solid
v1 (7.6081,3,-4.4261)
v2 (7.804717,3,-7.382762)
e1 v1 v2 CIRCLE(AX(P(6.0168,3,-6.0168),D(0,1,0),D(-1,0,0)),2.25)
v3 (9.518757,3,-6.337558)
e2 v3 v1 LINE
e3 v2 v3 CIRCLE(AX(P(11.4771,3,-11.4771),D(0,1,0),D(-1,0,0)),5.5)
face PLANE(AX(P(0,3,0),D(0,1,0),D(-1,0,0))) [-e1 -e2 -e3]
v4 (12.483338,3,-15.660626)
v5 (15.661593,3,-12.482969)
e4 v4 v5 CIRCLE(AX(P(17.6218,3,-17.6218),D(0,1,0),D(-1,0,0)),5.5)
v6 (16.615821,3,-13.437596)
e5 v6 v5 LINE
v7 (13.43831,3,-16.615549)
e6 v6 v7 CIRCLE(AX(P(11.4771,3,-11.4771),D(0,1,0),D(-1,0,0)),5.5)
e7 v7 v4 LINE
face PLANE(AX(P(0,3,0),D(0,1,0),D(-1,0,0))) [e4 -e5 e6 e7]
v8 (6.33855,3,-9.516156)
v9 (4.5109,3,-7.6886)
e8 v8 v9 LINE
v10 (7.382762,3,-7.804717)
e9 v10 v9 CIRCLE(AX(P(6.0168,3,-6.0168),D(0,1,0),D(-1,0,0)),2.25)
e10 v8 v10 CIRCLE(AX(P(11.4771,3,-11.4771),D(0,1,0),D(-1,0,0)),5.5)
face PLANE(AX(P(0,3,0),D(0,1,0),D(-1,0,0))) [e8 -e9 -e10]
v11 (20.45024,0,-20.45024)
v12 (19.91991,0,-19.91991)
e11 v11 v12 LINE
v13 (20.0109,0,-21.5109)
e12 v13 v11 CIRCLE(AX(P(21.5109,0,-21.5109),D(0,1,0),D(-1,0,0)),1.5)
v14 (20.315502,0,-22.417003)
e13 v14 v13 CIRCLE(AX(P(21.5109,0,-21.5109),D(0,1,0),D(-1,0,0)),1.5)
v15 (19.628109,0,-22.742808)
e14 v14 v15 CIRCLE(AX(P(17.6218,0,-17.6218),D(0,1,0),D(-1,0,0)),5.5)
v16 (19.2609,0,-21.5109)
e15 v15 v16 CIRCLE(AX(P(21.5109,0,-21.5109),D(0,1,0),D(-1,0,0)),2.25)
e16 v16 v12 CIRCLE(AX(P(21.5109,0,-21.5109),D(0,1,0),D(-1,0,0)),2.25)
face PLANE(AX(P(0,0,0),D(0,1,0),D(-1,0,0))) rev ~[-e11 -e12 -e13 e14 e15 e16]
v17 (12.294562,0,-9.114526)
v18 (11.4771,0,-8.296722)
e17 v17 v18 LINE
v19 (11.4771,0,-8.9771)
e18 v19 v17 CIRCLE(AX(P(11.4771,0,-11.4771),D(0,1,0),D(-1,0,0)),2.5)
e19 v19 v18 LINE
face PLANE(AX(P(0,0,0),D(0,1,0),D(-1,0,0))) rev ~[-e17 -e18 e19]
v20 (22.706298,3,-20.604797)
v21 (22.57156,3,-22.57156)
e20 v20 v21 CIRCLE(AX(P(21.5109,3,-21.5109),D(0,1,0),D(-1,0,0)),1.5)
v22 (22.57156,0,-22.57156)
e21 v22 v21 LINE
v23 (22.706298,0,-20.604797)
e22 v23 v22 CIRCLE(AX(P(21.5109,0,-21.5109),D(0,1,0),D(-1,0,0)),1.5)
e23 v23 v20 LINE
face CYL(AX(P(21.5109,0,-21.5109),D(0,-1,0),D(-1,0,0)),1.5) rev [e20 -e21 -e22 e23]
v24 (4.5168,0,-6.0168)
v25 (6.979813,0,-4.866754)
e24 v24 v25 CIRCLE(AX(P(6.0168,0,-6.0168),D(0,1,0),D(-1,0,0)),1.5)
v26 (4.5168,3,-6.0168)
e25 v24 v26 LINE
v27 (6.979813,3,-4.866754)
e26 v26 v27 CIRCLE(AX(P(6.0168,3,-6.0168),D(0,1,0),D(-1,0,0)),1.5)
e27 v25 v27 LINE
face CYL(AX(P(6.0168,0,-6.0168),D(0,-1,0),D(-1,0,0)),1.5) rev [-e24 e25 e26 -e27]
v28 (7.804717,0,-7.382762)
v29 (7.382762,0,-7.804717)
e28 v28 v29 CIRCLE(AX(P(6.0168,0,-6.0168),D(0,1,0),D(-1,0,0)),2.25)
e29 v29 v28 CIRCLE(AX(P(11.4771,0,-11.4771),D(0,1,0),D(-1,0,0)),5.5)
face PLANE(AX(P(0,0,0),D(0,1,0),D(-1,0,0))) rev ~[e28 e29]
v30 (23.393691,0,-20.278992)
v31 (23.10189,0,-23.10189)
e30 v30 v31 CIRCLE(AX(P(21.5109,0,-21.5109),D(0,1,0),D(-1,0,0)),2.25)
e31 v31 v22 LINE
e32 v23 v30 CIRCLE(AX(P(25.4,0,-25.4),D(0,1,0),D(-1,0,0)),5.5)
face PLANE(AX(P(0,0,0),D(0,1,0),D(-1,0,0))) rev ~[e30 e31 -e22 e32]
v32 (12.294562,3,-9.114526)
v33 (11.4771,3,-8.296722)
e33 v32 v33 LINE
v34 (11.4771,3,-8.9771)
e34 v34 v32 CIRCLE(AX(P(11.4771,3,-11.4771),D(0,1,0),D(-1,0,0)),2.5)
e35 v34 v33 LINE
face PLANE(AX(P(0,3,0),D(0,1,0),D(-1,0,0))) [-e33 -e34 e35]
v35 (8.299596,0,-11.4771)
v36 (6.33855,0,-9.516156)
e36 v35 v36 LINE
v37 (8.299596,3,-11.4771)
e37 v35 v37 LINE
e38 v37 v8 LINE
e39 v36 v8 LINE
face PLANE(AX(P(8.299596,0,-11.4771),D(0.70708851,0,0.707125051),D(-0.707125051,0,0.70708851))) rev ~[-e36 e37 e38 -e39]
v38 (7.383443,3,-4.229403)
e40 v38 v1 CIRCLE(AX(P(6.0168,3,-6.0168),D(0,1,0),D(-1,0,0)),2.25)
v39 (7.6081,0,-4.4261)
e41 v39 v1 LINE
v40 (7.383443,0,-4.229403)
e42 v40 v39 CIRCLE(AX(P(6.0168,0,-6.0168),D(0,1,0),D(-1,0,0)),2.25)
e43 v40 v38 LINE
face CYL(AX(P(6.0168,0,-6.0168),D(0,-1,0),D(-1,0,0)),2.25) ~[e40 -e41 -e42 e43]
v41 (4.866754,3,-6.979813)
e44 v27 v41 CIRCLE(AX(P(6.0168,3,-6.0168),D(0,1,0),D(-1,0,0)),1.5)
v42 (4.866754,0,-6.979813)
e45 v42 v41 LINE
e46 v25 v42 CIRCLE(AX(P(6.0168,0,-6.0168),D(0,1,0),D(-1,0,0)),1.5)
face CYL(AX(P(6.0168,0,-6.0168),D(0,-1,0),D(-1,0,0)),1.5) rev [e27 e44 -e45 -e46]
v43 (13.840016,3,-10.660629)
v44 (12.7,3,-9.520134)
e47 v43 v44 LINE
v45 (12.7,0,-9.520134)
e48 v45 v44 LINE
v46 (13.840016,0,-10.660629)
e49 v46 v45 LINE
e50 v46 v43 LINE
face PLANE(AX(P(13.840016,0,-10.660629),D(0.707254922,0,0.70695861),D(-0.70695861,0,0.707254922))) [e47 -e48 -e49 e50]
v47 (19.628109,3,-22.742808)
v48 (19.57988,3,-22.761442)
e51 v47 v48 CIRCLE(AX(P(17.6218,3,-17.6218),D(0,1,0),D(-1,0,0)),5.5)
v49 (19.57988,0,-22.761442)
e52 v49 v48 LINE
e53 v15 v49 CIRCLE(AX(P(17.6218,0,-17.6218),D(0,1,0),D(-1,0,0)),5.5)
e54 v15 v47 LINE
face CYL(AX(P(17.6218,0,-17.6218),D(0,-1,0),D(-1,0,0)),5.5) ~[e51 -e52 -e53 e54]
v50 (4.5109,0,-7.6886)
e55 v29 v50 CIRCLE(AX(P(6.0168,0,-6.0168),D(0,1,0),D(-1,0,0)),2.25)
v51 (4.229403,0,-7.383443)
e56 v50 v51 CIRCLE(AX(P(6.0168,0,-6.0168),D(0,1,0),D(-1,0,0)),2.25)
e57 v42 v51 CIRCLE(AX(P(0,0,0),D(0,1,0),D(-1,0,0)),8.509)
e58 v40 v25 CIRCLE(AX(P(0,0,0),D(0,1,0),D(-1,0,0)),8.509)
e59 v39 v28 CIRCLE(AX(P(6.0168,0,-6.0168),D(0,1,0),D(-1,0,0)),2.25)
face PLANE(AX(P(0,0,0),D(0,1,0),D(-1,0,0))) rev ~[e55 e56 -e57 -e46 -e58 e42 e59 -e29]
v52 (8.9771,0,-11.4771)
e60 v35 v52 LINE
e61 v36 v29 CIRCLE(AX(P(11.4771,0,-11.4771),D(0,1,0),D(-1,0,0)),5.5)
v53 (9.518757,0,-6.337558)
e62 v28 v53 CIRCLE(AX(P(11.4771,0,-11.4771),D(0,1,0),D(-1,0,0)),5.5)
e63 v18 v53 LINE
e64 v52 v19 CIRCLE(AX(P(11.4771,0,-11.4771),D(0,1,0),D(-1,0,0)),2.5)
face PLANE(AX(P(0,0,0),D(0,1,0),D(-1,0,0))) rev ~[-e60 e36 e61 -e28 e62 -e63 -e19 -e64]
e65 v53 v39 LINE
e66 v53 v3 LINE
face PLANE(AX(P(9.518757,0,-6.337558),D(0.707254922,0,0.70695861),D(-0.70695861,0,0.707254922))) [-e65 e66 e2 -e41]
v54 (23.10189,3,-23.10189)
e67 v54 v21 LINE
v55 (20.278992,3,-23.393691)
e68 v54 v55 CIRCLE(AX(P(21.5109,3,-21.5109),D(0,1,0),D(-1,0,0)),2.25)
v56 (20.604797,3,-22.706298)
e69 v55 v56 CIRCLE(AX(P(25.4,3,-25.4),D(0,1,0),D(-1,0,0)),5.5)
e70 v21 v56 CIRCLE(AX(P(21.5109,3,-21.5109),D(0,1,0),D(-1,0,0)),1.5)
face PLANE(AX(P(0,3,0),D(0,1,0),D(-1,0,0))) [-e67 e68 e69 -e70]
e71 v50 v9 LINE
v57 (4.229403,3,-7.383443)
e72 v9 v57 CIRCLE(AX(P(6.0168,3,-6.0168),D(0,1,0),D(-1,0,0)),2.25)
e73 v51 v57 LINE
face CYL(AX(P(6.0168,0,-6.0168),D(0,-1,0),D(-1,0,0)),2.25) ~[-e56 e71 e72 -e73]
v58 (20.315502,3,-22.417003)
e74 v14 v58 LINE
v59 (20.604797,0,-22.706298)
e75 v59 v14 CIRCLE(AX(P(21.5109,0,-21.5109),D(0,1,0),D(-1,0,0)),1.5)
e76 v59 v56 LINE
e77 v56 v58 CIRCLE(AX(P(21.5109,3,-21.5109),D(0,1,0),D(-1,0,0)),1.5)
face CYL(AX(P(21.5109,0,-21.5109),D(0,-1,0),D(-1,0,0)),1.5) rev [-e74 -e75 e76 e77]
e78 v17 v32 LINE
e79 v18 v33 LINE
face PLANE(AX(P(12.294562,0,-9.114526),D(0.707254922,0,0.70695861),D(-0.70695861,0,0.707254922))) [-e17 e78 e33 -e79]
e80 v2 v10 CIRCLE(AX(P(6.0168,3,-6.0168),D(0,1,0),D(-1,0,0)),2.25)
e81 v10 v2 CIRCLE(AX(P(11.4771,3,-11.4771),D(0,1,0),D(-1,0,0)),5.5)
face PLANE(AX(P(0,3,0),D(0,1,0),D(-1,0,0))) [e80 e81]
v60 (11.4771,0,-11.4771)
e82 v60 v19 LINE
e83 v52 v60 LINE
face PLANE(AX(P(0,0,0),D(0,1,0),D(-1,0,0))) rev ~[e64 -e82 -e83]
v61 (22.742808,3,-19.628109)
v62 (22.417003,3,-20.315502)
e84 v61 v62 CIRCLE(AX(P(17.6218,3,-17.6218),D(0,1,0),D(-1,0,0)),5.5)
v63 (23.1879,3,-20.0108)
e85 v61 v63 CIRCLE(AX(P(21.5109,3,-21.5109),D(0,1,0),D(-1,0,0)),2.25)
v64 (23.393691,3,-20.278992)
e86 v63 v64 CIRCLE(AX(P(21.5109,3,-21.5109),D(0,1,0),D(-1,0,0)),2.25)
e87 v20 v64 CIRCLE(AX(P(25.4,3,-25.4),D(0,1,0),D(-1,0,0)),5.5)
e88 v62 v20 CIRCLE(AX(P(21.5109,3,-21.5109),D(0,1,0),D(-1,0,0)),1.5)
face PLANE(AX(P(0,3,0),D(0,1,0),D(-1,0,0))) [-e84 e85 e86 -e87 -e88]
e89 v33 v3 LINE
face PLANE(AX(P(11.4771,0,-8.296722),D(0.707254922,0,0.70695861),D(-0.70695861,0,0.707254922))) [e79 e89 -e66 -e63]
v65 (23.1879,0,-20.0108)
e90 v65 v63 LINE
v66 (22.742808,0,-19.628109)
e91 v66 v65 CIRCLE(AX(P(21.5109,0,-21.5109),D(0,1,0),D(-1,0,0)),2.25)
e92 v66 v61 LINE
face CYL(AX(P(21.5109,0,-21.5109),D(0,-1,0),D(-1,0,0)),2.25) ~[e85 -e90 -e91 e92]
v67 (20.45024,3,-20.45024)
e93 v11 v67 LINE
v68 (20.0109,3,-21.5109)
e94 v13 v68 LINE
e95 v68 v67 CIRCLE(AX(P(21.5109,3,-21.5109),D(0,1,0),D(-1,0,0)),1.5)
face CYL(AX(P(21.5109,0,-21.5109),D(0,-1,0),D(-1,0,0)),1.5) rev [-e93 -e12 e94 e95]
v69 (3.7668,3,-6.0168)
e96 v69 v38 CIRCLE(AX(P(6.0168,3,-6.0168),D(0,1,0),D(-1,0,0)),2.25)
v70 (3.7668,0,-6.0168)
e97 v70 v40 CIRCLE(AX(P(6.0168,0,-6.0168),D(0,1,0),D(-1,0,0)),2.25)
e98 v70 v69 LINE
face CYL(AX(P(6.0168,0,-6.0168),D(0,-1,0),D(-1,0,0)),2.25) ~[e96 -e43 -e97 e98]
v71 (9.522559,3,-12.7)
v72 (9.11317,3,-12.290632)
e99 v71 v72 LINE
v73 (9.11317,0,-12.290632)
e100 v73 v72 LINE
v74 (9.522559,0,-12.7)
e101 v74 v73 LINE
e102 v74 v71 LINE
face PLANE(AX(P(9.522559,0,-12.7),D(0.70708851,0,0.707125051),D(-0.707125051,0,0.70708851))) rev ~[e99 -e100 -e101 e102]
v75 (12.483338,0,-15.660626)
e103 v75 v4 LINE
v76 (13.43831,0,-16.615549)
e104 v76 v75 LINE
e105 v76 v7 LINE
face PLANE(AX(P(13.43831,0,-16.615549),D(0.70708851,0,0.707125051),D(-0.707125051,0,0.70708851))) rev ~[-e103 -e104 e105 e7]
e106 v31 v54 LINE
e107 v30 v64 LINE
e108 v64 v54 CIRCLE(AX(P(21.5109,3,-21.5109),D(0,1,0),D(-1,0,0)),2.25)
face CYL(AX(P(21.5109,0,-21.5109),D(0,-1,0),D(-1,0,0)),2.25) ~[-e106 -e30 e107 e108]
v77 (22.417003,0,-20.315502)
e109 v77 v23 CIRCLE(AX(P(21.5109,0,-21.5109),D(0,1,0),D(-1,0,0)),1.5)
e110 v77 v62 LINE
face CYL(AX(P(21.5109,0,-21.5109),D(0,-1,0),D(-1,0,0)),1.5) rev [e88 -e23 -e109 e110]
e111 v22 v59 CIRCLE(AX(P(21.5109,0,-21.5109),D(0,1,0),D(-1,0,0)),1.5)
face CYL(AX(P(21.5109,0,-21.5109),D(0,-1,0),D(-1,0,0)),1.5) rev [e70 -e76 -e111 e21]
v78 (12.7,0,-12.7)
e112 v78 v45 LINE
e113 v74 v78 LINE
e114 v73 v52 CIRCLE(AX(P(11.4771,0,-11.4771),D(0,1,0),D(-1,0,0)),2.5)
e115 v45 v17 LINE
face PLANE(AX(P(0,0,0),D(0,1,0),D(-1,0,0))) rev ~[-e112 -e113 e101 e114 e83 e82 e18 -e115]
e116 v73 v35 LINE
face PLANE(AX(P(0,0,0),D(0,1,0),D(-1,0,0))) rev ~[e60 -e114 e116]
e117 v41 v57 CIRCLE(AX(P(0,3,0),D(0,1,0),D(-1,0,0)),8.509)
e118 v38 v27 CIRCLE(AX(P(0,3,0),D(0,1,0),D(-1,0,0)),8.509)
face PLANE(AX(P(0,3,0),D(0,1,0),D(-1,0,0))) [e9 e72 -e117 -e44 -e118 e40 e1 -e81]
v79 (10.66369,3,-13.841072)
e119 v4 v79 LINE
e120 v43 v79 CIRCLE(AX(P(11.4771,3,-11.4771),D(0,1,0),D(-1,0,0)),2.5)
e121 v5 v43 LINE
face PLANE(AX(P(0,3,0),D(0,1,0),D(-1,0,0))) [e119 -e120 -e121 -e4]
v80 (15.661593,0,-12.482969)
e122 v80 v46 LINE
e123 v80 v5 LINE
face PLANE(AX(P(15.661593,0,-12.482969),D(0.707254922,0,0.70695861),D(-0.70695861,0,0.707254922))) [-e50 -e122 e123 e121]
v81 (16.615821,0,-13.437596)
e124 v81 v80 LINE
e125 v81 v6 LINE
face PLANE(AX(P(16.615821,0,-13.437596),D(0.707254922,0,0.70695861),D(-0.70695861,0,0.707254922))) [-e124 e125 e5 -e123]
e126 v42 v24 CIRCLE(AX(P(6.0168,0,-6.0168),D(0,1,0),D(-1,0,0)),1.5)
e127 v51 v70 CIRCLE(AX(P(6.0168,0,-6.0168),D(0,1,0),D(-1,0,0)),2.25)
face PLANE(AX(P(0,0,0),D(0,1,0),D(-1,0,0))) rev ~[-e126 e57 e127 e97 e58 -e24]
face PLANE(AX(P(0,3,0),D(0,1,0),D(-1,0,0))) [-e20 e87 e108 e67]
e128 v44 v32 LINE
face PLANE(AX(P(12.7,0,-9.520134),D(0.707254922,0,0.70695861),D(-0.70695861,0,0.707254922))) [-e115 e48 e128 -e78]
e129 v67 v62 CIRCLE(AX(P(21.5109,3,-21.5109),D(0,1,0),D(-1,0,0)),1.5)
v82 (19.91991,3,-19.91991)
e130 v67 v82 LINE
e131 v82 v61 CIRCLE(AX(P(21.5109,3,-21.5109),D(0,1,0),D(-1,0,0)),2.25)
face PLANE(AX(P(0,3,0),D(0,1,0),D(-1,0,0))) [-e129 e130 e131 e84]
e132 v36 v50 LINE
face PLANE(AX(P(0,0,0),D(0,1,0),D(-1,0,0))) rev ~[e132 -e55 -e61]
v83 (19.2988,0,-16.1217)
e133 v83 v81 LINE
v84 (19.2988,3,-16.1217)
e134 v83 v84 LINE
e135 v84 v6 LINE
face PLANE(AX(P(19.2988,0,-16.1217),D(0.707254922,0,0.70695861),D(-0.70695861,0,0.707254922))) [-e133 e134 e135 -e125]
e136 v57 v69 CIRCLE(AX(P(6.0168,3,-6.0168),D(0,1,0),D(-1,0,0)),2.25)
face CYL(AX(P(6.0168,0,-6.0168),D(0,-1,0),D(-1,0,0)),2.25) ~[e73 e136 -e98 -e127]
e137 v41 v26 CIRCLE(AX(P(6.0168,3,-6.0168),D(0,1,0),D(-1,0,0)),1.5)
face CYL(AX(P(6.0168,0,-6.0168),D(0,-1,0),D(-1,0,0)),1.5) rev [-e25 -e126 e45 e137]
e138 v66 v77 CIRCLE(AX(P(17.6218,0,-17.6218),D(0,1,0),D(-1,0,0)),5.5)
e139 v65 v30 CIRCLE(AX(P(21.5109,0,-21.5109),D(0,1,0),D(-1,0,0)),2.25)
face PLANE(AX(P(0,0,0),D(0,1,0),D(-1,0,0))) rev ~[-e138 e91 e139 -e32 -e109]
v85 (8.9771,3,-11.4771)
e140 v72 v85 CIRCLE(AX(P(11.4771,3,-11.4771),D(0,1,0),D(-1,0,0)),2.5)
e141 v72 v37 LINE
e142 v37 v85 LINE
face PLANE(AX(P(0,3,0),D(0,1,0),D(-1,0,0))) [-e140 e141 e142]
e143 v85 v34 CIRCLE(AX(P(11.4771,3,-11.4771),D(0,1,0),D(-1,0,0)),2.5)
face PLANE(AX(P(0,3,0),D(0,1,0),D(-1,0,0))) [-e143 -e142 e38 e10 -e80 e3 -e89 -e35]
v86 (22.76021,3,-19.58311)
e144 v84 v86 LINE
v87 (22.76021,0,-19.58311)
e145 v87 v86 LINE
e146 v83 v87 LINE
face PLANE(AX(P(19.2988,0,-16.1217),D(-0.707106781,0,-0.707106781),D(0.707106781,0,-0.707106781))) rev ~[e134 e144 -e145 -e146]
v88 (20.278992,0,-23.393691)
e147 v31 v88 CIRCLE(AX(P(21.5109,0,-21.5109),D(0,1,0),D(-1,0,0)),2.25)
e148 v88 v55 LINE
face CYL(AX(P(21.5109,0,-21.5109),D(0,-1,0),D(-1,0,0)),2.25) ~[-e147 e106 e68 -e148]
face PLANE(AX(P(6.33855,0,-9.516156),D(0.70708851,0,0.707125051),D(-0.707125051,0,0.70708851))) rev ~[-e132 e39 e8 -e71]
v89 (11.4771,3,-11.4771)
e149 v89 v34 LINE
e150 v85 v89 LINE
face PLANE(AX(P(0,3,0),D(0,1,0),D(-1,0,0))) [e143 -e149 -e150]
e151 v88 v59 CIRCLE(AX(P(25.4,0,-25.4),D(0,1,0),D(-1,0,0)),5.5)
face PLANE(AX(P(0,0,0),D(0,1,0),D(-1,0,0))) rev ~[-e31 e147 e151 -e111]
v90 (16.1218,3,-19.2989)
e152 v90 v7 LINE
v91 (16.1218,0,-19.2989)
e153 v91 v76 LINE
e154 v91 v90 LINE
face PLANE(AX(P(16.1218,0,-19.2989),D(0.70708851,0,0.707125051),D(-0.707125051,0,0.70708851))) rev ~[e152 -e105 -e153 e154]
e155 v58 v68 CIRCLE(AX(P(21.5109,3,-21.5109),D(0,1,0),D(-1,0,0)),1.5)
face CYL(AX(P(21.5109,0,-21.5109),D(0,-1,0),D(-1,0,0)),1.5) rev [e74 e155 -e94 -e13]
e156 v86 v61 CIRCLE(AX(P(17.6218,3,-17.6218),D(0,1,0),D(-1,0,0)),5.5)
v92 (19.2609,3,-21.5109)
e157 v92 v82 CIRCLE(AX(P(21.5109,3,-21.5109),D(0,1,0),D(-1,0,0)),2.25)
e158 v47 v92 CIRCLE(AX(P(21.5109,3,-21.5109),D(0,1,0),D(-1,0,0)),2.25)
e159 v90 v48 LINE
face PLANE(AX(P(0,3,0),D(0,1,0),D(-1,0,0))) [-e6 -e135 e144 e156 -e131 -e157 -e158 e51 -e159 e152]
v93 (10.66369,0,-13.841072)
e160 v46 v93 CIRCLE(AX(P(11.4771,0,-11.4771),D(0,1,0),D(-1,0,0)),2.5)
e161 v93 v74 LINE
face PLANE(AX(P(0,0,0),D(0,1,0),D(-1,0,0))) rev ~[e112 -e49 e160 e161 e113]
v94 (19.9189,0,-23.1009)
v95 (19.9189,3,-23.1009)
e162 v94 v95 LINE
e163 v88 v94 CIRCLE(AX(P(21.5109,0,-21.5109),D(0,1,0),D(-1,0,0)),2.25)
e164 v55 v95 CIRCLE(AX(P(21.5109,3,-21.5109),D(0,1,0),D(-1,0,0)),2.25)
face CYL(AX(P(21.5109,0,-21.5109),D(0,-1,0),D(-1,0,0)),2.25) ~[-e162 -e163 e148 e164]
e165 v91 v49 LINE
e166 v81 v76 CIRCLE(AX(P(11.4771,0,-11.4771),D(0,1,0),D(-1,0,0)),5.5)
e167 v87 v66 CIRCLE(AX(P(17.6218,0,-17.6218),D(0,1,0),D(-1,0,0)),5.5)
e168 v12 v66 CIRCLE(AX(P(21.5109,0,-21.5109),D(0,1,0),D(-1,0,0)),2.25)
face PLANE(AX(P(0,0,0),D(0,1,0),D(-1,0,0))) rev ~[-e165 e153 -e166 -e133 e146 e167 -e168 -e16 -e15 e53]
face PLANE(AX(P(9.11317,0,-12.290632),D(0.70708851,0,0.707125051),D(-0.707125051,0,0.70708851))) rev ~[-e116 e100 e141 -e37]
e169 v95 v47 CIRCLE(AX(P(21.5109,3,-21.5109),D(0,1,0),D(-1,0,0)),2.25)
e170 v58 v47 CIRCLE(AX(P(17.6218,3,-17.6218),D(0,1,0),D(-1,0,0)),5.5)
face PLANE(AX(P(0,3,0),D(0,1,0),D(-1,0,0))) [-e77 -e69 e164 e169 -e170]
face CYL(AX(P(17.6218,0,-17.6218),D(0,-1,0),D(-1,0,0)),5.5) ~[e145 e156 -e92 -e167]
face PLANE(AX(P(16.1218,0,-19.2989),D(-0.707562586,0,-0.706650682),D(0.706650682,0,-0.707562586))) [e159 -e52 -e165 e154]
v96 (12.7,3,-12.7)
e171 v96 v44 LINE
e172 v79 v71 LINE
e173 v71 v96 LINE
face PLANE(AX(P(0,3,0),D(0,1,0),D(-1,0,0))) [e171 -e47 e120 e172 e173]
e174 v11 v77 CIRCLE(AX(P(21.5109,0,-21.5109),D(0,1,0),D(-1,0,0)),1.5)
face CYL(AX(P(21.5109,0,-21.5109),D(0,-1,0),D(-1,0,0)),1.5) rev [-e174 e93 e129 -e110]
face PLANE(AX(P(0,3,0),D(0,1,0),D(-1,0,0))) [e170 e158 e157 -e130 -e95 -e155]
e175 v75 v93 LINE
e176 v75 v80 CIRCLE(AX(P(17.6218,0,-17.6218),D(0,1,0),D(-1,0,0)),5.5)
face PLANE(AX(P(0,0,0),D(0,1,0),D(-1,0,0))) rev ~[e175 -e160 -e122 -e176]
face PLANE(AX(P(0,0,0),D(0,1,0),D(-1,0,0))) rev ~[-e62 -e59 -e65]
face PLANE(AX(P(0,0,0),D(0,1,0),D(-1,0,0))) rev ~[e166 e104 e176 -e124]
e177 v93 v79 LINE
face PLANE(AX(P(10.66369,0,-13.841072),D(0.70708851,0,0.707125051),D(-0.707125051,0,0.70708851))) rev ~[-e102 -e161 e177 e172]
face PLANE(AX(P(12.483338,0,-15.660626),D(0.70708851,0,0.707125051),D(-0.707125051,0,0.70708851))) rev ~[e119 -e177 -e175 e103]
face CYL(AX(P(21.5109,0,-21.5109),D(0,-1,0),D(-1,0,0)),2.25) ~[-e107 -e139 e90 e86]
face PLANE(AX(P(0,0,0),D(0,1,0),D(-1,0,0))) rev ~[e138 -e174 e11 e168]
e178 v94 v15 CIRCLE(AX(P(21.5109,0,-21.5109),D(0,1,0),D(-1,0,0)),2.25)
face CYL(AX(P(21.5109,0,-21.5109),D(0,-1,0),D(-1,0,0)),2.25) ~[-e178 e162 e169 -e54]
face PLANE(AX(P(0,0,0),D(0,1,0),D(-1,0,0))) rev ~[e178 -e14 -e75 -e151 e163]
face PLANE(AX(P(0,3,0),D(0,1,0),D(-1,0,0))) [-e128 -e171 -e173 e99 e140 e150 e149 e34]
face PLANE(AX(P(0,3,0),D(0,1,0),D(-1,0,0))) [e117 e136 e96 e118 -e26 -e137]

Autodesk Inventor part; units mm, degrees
ref_plane "YZ Plane" through (0, 0, 0) normal (1, 0, 0) x (0, 1, 0)
ref_plane "XZ Plane" through (0, 0, 0) normal (0, 1, 0) x (-1, 0, 0)
ref_plane "XY Plane" through (0, 0, 0) normal (0, 0, 1) x (1, 0, 0)
sketch "Sketch1" plane through (0, 0, 0) normal (0, 1, 0) x (-1, 0, 0)
  circle A0 centre (-0.0319, -8.4999) radius 1.5
  circle A1 centre (8.4996, 0.0794) radius 1.5
  circle A2 centre (-8.4996, 0.0788) radius 1.5
  circle A3 centre (-0.0313, 8.4999) radius 1.5
  line L0 (-12.7, 12.7) -> (12.7, 12.7)
  line L1 (12.7, 12.7) -> (12.7, -12.7)
  line L2 (12.7, -12.7) -> (-12.7, -12.7)
  line L3 (-12.7, -12.7) -> (-12.7, 12.7)
  line L4 (-12.7, 12.7) -> (12.7, -12.7) construction
  line L5 (12.7, 12.7) -> (-12.7, -12.7) construction
  line L6 (-11.4771, 11.4771) -> (11.4771, 11.4771)
  line L7 (11.4771, 11.4771) -> (11.4771, -11.4771)
  line L8 (11.4771, -11.4771) -> (-11.4771, -11.4771)
  line L9 (-11.4771, -11.4771) -> (-11.4771, 11.4771)
  line L10 (-11.4771, 11.4771) -> (11.4771, -11.4771) construction
  line L11 (11.4771, 11.4771) -> (-11.4771, -11.4771) construction
  line L12 (-25.4, -25.4) -> (25.4, -25.4)
  line L13 (25.4, -25.4) -> (25.4, 25.4)
  line L14 (25.4, 25.4) -> (-25.4, 25.4)
  line L15 (-25.4, 25.4) -> (-25.4, -25.4)
  line L16 (-25.4, -25.4) -> (25.4, 25.4) construction
  line L17 (25.4, -25.4) -> (-25.4, 25.4) construction
  circle A4 centre (0, 0) radius 5.5
  circle A5 centre (11.4771, 11.4771) radius 5.5
  circle A6 centre (11.4771, -11.4771) radius 5.5
  circle A7 centre (-11.4771, 11.4771) radius 5.5
  circle A8 centre (-11.4771, -11.4771) radius 5.5
  circle A9 centre (-25.4, 25.4) radius 5.5
  circle A10 centre (25.4, 25.4) radius 5.5
  circle A11 centre (25.4, -25.4) radius 5.5
  circle A12 centre (-25.4, -25.4) radius 5.5
  line L18 (7.588, 15.3662) -> (21.5109, 29.2891)
  line L19 (29.2891, 21.5109) -> (15.3662, 7.588)
  line L20 (15.3662, -7.588) -> (29.2891, -21.5109)
  line L21 (-7.588, -15.3662) -> (-21.5109, -29.2891)
  line L22 (-29.2891, 21.5109) -> (-15.3662, 7.588)
  line L23 (7.588, -15.3662) -> (21.5109, -29.2891)
  line L24 (-15.3365, -7.5586) -> (-29.2595, -21.4815)
  line L25 (-7.6475, 15.4248) -> (-21.5108, 29.289)
  line L26 (-35, -35) -> (35, -35)
  line L27 (35, -35) -> (35, 35)
  line L28 (35, 35) -> (-35, 35)
  line L29 (-35, 35) -> (-35, -35)
  line L30 (-35, -35) -> (35, 35) construction
  line L31 (35, -35) -> (-35, 35) construction
  circle A13 centre (11.4771, 11.4771) radius 2.5
  circle A14 centre (25.4, 25.4) radius 2.5
  line L32 (27.1678, 23.6322) -> (13.2448, 9.7093)
  line L33 (23.6682, 27.203) -> (9.7093, 13.2449)
  line L34 (0, 0) -> (0, 35)
  line L35 (35, 0) -> (0, 0)
  line L36 (-27.1678, 23.6322) -> (-13.2448, 9.7093)
  circle A15 centre (-25.4, 25.4) radius 2.5
  line L37 (-23.6682, 27.203) -> (-9.7093, 13.2449)
  circle A16 centre (-11.4771, 11.4771) radius 2.5
  circle A17 centre (25.4, -25.4) radius 2.5
  line L38 (23.6682, -27.203) -> (9.7093, -13.2449)
  line L39 (27.1678, -23.6322) -> (13.2448, -9.7093)
  circle A18 centre (11.4771, -11.4771) radius 2.5
  circle A19 centre (-11.4771, -11.4771) radius 2.5
  line L40 (-23.6682, -27.203) -> (-9.7093, -13.2449)
  line L41 (-27.1678, -23.6322) -> (-13.2448, -9.7093)
  line L42 (25.4, 25.4) -> (-25.4, -25.4) construction
  circle A20 centre (-25.4, -25.4) radius 2.5
  circle A21 centre (0, 0) radius 8.509
  circle A22 centre (-6.0168, -6.0168) radius 1.5
  line L43 (-25.4, -25.4) -> (-17.6218, -17.6218)
  circle A23 centre (-17.6218, -17.6218) radius 5.5
  circle A24 centre (-6.0168, -6.0168) radius 2.25
  line L44 (-16.1218, -19.2989) -> (-4.5109, -7.6886)
  line L45 (-19.2988, -16.1217) -> (-7.6081, -4.4261)
  circle A25 centre (-21.5109, -21.5109) radius 1.5
  circle A26 centre (-21.5109, -21.5109) radius 2.25
  line L46 (-19.2988, -16.1217) -> (-23.1879, -20.0108)
  line L47 (-16.1218, -19.2989) -> (-19.9189, -23.1009)
  point P0 (-22.7602, -19.5832)
  point P1 (-22.7428, -19.6281)
  point P2 (-23.011, -19.8339)
  point P3 (-19.6281, -22.7428)
  point P4 (-19.5799, -22.7615)
  dimension "d24" = 17.018
  dimension "d0" = 8.5
  dimension "d1" = 8.5
  dimension "d2" = 8.5
  dimension "d3" = 8.5
  dimension "d4" = 3
  dimension "d5" = 3
  dimension "d6" = 3
  dimension "d7" = 3
  dimension "d8" = 25.4
  dimension "d9" = 25.4
  dimension "d10" = 50.8
  dimension "d11" = 50.8
  dimension "d12" = 11
  dimension "d13" = 11
  dimension "d14" = 11
  dimension "d15" = 11
  dimension "d16" = 11
  dimension "d17" = 11
  dimension "d18" = 11
  dimension "d19" = 11
  dimension "d20" = 11
  dimension "d21" = 70
  dimension "d22" = 5
  dimension "d23" = 5
  dimension "d25" = 3
  dimension "d26" = 11
  dimension "d28" = 4.5
  dimension "d33" = 3
  dimension "d34" = 4.5
extrude "Extrusion1" add sketch "Sketch1" along normal blind 3 contours A24 A8 A21 A22 | A21 A22 A24 | L44 A8 A24 | A24 A8 | A8 L44 L8 A19 L9 L45 A24 | A8 L45 A24 | L44 A19 L8 | A19 L44 L2 L3 L45 L9 L8 | L8 L9 A19 | L9 A19 L45 | L44 A19 L45 L3 L2 | L44 A23 L45 A19 | L44 A8 L45 A23 | L44 L47 A23 A26 L46 L45 A8 | A26 L43 A25 A12 | A12 A25 A23 A26 | A23 A25 L43 A26 | A26 A12 A25 L43 | A26 A23 A25 A12 | A26 L43 A25 A23
properties part number "link"
